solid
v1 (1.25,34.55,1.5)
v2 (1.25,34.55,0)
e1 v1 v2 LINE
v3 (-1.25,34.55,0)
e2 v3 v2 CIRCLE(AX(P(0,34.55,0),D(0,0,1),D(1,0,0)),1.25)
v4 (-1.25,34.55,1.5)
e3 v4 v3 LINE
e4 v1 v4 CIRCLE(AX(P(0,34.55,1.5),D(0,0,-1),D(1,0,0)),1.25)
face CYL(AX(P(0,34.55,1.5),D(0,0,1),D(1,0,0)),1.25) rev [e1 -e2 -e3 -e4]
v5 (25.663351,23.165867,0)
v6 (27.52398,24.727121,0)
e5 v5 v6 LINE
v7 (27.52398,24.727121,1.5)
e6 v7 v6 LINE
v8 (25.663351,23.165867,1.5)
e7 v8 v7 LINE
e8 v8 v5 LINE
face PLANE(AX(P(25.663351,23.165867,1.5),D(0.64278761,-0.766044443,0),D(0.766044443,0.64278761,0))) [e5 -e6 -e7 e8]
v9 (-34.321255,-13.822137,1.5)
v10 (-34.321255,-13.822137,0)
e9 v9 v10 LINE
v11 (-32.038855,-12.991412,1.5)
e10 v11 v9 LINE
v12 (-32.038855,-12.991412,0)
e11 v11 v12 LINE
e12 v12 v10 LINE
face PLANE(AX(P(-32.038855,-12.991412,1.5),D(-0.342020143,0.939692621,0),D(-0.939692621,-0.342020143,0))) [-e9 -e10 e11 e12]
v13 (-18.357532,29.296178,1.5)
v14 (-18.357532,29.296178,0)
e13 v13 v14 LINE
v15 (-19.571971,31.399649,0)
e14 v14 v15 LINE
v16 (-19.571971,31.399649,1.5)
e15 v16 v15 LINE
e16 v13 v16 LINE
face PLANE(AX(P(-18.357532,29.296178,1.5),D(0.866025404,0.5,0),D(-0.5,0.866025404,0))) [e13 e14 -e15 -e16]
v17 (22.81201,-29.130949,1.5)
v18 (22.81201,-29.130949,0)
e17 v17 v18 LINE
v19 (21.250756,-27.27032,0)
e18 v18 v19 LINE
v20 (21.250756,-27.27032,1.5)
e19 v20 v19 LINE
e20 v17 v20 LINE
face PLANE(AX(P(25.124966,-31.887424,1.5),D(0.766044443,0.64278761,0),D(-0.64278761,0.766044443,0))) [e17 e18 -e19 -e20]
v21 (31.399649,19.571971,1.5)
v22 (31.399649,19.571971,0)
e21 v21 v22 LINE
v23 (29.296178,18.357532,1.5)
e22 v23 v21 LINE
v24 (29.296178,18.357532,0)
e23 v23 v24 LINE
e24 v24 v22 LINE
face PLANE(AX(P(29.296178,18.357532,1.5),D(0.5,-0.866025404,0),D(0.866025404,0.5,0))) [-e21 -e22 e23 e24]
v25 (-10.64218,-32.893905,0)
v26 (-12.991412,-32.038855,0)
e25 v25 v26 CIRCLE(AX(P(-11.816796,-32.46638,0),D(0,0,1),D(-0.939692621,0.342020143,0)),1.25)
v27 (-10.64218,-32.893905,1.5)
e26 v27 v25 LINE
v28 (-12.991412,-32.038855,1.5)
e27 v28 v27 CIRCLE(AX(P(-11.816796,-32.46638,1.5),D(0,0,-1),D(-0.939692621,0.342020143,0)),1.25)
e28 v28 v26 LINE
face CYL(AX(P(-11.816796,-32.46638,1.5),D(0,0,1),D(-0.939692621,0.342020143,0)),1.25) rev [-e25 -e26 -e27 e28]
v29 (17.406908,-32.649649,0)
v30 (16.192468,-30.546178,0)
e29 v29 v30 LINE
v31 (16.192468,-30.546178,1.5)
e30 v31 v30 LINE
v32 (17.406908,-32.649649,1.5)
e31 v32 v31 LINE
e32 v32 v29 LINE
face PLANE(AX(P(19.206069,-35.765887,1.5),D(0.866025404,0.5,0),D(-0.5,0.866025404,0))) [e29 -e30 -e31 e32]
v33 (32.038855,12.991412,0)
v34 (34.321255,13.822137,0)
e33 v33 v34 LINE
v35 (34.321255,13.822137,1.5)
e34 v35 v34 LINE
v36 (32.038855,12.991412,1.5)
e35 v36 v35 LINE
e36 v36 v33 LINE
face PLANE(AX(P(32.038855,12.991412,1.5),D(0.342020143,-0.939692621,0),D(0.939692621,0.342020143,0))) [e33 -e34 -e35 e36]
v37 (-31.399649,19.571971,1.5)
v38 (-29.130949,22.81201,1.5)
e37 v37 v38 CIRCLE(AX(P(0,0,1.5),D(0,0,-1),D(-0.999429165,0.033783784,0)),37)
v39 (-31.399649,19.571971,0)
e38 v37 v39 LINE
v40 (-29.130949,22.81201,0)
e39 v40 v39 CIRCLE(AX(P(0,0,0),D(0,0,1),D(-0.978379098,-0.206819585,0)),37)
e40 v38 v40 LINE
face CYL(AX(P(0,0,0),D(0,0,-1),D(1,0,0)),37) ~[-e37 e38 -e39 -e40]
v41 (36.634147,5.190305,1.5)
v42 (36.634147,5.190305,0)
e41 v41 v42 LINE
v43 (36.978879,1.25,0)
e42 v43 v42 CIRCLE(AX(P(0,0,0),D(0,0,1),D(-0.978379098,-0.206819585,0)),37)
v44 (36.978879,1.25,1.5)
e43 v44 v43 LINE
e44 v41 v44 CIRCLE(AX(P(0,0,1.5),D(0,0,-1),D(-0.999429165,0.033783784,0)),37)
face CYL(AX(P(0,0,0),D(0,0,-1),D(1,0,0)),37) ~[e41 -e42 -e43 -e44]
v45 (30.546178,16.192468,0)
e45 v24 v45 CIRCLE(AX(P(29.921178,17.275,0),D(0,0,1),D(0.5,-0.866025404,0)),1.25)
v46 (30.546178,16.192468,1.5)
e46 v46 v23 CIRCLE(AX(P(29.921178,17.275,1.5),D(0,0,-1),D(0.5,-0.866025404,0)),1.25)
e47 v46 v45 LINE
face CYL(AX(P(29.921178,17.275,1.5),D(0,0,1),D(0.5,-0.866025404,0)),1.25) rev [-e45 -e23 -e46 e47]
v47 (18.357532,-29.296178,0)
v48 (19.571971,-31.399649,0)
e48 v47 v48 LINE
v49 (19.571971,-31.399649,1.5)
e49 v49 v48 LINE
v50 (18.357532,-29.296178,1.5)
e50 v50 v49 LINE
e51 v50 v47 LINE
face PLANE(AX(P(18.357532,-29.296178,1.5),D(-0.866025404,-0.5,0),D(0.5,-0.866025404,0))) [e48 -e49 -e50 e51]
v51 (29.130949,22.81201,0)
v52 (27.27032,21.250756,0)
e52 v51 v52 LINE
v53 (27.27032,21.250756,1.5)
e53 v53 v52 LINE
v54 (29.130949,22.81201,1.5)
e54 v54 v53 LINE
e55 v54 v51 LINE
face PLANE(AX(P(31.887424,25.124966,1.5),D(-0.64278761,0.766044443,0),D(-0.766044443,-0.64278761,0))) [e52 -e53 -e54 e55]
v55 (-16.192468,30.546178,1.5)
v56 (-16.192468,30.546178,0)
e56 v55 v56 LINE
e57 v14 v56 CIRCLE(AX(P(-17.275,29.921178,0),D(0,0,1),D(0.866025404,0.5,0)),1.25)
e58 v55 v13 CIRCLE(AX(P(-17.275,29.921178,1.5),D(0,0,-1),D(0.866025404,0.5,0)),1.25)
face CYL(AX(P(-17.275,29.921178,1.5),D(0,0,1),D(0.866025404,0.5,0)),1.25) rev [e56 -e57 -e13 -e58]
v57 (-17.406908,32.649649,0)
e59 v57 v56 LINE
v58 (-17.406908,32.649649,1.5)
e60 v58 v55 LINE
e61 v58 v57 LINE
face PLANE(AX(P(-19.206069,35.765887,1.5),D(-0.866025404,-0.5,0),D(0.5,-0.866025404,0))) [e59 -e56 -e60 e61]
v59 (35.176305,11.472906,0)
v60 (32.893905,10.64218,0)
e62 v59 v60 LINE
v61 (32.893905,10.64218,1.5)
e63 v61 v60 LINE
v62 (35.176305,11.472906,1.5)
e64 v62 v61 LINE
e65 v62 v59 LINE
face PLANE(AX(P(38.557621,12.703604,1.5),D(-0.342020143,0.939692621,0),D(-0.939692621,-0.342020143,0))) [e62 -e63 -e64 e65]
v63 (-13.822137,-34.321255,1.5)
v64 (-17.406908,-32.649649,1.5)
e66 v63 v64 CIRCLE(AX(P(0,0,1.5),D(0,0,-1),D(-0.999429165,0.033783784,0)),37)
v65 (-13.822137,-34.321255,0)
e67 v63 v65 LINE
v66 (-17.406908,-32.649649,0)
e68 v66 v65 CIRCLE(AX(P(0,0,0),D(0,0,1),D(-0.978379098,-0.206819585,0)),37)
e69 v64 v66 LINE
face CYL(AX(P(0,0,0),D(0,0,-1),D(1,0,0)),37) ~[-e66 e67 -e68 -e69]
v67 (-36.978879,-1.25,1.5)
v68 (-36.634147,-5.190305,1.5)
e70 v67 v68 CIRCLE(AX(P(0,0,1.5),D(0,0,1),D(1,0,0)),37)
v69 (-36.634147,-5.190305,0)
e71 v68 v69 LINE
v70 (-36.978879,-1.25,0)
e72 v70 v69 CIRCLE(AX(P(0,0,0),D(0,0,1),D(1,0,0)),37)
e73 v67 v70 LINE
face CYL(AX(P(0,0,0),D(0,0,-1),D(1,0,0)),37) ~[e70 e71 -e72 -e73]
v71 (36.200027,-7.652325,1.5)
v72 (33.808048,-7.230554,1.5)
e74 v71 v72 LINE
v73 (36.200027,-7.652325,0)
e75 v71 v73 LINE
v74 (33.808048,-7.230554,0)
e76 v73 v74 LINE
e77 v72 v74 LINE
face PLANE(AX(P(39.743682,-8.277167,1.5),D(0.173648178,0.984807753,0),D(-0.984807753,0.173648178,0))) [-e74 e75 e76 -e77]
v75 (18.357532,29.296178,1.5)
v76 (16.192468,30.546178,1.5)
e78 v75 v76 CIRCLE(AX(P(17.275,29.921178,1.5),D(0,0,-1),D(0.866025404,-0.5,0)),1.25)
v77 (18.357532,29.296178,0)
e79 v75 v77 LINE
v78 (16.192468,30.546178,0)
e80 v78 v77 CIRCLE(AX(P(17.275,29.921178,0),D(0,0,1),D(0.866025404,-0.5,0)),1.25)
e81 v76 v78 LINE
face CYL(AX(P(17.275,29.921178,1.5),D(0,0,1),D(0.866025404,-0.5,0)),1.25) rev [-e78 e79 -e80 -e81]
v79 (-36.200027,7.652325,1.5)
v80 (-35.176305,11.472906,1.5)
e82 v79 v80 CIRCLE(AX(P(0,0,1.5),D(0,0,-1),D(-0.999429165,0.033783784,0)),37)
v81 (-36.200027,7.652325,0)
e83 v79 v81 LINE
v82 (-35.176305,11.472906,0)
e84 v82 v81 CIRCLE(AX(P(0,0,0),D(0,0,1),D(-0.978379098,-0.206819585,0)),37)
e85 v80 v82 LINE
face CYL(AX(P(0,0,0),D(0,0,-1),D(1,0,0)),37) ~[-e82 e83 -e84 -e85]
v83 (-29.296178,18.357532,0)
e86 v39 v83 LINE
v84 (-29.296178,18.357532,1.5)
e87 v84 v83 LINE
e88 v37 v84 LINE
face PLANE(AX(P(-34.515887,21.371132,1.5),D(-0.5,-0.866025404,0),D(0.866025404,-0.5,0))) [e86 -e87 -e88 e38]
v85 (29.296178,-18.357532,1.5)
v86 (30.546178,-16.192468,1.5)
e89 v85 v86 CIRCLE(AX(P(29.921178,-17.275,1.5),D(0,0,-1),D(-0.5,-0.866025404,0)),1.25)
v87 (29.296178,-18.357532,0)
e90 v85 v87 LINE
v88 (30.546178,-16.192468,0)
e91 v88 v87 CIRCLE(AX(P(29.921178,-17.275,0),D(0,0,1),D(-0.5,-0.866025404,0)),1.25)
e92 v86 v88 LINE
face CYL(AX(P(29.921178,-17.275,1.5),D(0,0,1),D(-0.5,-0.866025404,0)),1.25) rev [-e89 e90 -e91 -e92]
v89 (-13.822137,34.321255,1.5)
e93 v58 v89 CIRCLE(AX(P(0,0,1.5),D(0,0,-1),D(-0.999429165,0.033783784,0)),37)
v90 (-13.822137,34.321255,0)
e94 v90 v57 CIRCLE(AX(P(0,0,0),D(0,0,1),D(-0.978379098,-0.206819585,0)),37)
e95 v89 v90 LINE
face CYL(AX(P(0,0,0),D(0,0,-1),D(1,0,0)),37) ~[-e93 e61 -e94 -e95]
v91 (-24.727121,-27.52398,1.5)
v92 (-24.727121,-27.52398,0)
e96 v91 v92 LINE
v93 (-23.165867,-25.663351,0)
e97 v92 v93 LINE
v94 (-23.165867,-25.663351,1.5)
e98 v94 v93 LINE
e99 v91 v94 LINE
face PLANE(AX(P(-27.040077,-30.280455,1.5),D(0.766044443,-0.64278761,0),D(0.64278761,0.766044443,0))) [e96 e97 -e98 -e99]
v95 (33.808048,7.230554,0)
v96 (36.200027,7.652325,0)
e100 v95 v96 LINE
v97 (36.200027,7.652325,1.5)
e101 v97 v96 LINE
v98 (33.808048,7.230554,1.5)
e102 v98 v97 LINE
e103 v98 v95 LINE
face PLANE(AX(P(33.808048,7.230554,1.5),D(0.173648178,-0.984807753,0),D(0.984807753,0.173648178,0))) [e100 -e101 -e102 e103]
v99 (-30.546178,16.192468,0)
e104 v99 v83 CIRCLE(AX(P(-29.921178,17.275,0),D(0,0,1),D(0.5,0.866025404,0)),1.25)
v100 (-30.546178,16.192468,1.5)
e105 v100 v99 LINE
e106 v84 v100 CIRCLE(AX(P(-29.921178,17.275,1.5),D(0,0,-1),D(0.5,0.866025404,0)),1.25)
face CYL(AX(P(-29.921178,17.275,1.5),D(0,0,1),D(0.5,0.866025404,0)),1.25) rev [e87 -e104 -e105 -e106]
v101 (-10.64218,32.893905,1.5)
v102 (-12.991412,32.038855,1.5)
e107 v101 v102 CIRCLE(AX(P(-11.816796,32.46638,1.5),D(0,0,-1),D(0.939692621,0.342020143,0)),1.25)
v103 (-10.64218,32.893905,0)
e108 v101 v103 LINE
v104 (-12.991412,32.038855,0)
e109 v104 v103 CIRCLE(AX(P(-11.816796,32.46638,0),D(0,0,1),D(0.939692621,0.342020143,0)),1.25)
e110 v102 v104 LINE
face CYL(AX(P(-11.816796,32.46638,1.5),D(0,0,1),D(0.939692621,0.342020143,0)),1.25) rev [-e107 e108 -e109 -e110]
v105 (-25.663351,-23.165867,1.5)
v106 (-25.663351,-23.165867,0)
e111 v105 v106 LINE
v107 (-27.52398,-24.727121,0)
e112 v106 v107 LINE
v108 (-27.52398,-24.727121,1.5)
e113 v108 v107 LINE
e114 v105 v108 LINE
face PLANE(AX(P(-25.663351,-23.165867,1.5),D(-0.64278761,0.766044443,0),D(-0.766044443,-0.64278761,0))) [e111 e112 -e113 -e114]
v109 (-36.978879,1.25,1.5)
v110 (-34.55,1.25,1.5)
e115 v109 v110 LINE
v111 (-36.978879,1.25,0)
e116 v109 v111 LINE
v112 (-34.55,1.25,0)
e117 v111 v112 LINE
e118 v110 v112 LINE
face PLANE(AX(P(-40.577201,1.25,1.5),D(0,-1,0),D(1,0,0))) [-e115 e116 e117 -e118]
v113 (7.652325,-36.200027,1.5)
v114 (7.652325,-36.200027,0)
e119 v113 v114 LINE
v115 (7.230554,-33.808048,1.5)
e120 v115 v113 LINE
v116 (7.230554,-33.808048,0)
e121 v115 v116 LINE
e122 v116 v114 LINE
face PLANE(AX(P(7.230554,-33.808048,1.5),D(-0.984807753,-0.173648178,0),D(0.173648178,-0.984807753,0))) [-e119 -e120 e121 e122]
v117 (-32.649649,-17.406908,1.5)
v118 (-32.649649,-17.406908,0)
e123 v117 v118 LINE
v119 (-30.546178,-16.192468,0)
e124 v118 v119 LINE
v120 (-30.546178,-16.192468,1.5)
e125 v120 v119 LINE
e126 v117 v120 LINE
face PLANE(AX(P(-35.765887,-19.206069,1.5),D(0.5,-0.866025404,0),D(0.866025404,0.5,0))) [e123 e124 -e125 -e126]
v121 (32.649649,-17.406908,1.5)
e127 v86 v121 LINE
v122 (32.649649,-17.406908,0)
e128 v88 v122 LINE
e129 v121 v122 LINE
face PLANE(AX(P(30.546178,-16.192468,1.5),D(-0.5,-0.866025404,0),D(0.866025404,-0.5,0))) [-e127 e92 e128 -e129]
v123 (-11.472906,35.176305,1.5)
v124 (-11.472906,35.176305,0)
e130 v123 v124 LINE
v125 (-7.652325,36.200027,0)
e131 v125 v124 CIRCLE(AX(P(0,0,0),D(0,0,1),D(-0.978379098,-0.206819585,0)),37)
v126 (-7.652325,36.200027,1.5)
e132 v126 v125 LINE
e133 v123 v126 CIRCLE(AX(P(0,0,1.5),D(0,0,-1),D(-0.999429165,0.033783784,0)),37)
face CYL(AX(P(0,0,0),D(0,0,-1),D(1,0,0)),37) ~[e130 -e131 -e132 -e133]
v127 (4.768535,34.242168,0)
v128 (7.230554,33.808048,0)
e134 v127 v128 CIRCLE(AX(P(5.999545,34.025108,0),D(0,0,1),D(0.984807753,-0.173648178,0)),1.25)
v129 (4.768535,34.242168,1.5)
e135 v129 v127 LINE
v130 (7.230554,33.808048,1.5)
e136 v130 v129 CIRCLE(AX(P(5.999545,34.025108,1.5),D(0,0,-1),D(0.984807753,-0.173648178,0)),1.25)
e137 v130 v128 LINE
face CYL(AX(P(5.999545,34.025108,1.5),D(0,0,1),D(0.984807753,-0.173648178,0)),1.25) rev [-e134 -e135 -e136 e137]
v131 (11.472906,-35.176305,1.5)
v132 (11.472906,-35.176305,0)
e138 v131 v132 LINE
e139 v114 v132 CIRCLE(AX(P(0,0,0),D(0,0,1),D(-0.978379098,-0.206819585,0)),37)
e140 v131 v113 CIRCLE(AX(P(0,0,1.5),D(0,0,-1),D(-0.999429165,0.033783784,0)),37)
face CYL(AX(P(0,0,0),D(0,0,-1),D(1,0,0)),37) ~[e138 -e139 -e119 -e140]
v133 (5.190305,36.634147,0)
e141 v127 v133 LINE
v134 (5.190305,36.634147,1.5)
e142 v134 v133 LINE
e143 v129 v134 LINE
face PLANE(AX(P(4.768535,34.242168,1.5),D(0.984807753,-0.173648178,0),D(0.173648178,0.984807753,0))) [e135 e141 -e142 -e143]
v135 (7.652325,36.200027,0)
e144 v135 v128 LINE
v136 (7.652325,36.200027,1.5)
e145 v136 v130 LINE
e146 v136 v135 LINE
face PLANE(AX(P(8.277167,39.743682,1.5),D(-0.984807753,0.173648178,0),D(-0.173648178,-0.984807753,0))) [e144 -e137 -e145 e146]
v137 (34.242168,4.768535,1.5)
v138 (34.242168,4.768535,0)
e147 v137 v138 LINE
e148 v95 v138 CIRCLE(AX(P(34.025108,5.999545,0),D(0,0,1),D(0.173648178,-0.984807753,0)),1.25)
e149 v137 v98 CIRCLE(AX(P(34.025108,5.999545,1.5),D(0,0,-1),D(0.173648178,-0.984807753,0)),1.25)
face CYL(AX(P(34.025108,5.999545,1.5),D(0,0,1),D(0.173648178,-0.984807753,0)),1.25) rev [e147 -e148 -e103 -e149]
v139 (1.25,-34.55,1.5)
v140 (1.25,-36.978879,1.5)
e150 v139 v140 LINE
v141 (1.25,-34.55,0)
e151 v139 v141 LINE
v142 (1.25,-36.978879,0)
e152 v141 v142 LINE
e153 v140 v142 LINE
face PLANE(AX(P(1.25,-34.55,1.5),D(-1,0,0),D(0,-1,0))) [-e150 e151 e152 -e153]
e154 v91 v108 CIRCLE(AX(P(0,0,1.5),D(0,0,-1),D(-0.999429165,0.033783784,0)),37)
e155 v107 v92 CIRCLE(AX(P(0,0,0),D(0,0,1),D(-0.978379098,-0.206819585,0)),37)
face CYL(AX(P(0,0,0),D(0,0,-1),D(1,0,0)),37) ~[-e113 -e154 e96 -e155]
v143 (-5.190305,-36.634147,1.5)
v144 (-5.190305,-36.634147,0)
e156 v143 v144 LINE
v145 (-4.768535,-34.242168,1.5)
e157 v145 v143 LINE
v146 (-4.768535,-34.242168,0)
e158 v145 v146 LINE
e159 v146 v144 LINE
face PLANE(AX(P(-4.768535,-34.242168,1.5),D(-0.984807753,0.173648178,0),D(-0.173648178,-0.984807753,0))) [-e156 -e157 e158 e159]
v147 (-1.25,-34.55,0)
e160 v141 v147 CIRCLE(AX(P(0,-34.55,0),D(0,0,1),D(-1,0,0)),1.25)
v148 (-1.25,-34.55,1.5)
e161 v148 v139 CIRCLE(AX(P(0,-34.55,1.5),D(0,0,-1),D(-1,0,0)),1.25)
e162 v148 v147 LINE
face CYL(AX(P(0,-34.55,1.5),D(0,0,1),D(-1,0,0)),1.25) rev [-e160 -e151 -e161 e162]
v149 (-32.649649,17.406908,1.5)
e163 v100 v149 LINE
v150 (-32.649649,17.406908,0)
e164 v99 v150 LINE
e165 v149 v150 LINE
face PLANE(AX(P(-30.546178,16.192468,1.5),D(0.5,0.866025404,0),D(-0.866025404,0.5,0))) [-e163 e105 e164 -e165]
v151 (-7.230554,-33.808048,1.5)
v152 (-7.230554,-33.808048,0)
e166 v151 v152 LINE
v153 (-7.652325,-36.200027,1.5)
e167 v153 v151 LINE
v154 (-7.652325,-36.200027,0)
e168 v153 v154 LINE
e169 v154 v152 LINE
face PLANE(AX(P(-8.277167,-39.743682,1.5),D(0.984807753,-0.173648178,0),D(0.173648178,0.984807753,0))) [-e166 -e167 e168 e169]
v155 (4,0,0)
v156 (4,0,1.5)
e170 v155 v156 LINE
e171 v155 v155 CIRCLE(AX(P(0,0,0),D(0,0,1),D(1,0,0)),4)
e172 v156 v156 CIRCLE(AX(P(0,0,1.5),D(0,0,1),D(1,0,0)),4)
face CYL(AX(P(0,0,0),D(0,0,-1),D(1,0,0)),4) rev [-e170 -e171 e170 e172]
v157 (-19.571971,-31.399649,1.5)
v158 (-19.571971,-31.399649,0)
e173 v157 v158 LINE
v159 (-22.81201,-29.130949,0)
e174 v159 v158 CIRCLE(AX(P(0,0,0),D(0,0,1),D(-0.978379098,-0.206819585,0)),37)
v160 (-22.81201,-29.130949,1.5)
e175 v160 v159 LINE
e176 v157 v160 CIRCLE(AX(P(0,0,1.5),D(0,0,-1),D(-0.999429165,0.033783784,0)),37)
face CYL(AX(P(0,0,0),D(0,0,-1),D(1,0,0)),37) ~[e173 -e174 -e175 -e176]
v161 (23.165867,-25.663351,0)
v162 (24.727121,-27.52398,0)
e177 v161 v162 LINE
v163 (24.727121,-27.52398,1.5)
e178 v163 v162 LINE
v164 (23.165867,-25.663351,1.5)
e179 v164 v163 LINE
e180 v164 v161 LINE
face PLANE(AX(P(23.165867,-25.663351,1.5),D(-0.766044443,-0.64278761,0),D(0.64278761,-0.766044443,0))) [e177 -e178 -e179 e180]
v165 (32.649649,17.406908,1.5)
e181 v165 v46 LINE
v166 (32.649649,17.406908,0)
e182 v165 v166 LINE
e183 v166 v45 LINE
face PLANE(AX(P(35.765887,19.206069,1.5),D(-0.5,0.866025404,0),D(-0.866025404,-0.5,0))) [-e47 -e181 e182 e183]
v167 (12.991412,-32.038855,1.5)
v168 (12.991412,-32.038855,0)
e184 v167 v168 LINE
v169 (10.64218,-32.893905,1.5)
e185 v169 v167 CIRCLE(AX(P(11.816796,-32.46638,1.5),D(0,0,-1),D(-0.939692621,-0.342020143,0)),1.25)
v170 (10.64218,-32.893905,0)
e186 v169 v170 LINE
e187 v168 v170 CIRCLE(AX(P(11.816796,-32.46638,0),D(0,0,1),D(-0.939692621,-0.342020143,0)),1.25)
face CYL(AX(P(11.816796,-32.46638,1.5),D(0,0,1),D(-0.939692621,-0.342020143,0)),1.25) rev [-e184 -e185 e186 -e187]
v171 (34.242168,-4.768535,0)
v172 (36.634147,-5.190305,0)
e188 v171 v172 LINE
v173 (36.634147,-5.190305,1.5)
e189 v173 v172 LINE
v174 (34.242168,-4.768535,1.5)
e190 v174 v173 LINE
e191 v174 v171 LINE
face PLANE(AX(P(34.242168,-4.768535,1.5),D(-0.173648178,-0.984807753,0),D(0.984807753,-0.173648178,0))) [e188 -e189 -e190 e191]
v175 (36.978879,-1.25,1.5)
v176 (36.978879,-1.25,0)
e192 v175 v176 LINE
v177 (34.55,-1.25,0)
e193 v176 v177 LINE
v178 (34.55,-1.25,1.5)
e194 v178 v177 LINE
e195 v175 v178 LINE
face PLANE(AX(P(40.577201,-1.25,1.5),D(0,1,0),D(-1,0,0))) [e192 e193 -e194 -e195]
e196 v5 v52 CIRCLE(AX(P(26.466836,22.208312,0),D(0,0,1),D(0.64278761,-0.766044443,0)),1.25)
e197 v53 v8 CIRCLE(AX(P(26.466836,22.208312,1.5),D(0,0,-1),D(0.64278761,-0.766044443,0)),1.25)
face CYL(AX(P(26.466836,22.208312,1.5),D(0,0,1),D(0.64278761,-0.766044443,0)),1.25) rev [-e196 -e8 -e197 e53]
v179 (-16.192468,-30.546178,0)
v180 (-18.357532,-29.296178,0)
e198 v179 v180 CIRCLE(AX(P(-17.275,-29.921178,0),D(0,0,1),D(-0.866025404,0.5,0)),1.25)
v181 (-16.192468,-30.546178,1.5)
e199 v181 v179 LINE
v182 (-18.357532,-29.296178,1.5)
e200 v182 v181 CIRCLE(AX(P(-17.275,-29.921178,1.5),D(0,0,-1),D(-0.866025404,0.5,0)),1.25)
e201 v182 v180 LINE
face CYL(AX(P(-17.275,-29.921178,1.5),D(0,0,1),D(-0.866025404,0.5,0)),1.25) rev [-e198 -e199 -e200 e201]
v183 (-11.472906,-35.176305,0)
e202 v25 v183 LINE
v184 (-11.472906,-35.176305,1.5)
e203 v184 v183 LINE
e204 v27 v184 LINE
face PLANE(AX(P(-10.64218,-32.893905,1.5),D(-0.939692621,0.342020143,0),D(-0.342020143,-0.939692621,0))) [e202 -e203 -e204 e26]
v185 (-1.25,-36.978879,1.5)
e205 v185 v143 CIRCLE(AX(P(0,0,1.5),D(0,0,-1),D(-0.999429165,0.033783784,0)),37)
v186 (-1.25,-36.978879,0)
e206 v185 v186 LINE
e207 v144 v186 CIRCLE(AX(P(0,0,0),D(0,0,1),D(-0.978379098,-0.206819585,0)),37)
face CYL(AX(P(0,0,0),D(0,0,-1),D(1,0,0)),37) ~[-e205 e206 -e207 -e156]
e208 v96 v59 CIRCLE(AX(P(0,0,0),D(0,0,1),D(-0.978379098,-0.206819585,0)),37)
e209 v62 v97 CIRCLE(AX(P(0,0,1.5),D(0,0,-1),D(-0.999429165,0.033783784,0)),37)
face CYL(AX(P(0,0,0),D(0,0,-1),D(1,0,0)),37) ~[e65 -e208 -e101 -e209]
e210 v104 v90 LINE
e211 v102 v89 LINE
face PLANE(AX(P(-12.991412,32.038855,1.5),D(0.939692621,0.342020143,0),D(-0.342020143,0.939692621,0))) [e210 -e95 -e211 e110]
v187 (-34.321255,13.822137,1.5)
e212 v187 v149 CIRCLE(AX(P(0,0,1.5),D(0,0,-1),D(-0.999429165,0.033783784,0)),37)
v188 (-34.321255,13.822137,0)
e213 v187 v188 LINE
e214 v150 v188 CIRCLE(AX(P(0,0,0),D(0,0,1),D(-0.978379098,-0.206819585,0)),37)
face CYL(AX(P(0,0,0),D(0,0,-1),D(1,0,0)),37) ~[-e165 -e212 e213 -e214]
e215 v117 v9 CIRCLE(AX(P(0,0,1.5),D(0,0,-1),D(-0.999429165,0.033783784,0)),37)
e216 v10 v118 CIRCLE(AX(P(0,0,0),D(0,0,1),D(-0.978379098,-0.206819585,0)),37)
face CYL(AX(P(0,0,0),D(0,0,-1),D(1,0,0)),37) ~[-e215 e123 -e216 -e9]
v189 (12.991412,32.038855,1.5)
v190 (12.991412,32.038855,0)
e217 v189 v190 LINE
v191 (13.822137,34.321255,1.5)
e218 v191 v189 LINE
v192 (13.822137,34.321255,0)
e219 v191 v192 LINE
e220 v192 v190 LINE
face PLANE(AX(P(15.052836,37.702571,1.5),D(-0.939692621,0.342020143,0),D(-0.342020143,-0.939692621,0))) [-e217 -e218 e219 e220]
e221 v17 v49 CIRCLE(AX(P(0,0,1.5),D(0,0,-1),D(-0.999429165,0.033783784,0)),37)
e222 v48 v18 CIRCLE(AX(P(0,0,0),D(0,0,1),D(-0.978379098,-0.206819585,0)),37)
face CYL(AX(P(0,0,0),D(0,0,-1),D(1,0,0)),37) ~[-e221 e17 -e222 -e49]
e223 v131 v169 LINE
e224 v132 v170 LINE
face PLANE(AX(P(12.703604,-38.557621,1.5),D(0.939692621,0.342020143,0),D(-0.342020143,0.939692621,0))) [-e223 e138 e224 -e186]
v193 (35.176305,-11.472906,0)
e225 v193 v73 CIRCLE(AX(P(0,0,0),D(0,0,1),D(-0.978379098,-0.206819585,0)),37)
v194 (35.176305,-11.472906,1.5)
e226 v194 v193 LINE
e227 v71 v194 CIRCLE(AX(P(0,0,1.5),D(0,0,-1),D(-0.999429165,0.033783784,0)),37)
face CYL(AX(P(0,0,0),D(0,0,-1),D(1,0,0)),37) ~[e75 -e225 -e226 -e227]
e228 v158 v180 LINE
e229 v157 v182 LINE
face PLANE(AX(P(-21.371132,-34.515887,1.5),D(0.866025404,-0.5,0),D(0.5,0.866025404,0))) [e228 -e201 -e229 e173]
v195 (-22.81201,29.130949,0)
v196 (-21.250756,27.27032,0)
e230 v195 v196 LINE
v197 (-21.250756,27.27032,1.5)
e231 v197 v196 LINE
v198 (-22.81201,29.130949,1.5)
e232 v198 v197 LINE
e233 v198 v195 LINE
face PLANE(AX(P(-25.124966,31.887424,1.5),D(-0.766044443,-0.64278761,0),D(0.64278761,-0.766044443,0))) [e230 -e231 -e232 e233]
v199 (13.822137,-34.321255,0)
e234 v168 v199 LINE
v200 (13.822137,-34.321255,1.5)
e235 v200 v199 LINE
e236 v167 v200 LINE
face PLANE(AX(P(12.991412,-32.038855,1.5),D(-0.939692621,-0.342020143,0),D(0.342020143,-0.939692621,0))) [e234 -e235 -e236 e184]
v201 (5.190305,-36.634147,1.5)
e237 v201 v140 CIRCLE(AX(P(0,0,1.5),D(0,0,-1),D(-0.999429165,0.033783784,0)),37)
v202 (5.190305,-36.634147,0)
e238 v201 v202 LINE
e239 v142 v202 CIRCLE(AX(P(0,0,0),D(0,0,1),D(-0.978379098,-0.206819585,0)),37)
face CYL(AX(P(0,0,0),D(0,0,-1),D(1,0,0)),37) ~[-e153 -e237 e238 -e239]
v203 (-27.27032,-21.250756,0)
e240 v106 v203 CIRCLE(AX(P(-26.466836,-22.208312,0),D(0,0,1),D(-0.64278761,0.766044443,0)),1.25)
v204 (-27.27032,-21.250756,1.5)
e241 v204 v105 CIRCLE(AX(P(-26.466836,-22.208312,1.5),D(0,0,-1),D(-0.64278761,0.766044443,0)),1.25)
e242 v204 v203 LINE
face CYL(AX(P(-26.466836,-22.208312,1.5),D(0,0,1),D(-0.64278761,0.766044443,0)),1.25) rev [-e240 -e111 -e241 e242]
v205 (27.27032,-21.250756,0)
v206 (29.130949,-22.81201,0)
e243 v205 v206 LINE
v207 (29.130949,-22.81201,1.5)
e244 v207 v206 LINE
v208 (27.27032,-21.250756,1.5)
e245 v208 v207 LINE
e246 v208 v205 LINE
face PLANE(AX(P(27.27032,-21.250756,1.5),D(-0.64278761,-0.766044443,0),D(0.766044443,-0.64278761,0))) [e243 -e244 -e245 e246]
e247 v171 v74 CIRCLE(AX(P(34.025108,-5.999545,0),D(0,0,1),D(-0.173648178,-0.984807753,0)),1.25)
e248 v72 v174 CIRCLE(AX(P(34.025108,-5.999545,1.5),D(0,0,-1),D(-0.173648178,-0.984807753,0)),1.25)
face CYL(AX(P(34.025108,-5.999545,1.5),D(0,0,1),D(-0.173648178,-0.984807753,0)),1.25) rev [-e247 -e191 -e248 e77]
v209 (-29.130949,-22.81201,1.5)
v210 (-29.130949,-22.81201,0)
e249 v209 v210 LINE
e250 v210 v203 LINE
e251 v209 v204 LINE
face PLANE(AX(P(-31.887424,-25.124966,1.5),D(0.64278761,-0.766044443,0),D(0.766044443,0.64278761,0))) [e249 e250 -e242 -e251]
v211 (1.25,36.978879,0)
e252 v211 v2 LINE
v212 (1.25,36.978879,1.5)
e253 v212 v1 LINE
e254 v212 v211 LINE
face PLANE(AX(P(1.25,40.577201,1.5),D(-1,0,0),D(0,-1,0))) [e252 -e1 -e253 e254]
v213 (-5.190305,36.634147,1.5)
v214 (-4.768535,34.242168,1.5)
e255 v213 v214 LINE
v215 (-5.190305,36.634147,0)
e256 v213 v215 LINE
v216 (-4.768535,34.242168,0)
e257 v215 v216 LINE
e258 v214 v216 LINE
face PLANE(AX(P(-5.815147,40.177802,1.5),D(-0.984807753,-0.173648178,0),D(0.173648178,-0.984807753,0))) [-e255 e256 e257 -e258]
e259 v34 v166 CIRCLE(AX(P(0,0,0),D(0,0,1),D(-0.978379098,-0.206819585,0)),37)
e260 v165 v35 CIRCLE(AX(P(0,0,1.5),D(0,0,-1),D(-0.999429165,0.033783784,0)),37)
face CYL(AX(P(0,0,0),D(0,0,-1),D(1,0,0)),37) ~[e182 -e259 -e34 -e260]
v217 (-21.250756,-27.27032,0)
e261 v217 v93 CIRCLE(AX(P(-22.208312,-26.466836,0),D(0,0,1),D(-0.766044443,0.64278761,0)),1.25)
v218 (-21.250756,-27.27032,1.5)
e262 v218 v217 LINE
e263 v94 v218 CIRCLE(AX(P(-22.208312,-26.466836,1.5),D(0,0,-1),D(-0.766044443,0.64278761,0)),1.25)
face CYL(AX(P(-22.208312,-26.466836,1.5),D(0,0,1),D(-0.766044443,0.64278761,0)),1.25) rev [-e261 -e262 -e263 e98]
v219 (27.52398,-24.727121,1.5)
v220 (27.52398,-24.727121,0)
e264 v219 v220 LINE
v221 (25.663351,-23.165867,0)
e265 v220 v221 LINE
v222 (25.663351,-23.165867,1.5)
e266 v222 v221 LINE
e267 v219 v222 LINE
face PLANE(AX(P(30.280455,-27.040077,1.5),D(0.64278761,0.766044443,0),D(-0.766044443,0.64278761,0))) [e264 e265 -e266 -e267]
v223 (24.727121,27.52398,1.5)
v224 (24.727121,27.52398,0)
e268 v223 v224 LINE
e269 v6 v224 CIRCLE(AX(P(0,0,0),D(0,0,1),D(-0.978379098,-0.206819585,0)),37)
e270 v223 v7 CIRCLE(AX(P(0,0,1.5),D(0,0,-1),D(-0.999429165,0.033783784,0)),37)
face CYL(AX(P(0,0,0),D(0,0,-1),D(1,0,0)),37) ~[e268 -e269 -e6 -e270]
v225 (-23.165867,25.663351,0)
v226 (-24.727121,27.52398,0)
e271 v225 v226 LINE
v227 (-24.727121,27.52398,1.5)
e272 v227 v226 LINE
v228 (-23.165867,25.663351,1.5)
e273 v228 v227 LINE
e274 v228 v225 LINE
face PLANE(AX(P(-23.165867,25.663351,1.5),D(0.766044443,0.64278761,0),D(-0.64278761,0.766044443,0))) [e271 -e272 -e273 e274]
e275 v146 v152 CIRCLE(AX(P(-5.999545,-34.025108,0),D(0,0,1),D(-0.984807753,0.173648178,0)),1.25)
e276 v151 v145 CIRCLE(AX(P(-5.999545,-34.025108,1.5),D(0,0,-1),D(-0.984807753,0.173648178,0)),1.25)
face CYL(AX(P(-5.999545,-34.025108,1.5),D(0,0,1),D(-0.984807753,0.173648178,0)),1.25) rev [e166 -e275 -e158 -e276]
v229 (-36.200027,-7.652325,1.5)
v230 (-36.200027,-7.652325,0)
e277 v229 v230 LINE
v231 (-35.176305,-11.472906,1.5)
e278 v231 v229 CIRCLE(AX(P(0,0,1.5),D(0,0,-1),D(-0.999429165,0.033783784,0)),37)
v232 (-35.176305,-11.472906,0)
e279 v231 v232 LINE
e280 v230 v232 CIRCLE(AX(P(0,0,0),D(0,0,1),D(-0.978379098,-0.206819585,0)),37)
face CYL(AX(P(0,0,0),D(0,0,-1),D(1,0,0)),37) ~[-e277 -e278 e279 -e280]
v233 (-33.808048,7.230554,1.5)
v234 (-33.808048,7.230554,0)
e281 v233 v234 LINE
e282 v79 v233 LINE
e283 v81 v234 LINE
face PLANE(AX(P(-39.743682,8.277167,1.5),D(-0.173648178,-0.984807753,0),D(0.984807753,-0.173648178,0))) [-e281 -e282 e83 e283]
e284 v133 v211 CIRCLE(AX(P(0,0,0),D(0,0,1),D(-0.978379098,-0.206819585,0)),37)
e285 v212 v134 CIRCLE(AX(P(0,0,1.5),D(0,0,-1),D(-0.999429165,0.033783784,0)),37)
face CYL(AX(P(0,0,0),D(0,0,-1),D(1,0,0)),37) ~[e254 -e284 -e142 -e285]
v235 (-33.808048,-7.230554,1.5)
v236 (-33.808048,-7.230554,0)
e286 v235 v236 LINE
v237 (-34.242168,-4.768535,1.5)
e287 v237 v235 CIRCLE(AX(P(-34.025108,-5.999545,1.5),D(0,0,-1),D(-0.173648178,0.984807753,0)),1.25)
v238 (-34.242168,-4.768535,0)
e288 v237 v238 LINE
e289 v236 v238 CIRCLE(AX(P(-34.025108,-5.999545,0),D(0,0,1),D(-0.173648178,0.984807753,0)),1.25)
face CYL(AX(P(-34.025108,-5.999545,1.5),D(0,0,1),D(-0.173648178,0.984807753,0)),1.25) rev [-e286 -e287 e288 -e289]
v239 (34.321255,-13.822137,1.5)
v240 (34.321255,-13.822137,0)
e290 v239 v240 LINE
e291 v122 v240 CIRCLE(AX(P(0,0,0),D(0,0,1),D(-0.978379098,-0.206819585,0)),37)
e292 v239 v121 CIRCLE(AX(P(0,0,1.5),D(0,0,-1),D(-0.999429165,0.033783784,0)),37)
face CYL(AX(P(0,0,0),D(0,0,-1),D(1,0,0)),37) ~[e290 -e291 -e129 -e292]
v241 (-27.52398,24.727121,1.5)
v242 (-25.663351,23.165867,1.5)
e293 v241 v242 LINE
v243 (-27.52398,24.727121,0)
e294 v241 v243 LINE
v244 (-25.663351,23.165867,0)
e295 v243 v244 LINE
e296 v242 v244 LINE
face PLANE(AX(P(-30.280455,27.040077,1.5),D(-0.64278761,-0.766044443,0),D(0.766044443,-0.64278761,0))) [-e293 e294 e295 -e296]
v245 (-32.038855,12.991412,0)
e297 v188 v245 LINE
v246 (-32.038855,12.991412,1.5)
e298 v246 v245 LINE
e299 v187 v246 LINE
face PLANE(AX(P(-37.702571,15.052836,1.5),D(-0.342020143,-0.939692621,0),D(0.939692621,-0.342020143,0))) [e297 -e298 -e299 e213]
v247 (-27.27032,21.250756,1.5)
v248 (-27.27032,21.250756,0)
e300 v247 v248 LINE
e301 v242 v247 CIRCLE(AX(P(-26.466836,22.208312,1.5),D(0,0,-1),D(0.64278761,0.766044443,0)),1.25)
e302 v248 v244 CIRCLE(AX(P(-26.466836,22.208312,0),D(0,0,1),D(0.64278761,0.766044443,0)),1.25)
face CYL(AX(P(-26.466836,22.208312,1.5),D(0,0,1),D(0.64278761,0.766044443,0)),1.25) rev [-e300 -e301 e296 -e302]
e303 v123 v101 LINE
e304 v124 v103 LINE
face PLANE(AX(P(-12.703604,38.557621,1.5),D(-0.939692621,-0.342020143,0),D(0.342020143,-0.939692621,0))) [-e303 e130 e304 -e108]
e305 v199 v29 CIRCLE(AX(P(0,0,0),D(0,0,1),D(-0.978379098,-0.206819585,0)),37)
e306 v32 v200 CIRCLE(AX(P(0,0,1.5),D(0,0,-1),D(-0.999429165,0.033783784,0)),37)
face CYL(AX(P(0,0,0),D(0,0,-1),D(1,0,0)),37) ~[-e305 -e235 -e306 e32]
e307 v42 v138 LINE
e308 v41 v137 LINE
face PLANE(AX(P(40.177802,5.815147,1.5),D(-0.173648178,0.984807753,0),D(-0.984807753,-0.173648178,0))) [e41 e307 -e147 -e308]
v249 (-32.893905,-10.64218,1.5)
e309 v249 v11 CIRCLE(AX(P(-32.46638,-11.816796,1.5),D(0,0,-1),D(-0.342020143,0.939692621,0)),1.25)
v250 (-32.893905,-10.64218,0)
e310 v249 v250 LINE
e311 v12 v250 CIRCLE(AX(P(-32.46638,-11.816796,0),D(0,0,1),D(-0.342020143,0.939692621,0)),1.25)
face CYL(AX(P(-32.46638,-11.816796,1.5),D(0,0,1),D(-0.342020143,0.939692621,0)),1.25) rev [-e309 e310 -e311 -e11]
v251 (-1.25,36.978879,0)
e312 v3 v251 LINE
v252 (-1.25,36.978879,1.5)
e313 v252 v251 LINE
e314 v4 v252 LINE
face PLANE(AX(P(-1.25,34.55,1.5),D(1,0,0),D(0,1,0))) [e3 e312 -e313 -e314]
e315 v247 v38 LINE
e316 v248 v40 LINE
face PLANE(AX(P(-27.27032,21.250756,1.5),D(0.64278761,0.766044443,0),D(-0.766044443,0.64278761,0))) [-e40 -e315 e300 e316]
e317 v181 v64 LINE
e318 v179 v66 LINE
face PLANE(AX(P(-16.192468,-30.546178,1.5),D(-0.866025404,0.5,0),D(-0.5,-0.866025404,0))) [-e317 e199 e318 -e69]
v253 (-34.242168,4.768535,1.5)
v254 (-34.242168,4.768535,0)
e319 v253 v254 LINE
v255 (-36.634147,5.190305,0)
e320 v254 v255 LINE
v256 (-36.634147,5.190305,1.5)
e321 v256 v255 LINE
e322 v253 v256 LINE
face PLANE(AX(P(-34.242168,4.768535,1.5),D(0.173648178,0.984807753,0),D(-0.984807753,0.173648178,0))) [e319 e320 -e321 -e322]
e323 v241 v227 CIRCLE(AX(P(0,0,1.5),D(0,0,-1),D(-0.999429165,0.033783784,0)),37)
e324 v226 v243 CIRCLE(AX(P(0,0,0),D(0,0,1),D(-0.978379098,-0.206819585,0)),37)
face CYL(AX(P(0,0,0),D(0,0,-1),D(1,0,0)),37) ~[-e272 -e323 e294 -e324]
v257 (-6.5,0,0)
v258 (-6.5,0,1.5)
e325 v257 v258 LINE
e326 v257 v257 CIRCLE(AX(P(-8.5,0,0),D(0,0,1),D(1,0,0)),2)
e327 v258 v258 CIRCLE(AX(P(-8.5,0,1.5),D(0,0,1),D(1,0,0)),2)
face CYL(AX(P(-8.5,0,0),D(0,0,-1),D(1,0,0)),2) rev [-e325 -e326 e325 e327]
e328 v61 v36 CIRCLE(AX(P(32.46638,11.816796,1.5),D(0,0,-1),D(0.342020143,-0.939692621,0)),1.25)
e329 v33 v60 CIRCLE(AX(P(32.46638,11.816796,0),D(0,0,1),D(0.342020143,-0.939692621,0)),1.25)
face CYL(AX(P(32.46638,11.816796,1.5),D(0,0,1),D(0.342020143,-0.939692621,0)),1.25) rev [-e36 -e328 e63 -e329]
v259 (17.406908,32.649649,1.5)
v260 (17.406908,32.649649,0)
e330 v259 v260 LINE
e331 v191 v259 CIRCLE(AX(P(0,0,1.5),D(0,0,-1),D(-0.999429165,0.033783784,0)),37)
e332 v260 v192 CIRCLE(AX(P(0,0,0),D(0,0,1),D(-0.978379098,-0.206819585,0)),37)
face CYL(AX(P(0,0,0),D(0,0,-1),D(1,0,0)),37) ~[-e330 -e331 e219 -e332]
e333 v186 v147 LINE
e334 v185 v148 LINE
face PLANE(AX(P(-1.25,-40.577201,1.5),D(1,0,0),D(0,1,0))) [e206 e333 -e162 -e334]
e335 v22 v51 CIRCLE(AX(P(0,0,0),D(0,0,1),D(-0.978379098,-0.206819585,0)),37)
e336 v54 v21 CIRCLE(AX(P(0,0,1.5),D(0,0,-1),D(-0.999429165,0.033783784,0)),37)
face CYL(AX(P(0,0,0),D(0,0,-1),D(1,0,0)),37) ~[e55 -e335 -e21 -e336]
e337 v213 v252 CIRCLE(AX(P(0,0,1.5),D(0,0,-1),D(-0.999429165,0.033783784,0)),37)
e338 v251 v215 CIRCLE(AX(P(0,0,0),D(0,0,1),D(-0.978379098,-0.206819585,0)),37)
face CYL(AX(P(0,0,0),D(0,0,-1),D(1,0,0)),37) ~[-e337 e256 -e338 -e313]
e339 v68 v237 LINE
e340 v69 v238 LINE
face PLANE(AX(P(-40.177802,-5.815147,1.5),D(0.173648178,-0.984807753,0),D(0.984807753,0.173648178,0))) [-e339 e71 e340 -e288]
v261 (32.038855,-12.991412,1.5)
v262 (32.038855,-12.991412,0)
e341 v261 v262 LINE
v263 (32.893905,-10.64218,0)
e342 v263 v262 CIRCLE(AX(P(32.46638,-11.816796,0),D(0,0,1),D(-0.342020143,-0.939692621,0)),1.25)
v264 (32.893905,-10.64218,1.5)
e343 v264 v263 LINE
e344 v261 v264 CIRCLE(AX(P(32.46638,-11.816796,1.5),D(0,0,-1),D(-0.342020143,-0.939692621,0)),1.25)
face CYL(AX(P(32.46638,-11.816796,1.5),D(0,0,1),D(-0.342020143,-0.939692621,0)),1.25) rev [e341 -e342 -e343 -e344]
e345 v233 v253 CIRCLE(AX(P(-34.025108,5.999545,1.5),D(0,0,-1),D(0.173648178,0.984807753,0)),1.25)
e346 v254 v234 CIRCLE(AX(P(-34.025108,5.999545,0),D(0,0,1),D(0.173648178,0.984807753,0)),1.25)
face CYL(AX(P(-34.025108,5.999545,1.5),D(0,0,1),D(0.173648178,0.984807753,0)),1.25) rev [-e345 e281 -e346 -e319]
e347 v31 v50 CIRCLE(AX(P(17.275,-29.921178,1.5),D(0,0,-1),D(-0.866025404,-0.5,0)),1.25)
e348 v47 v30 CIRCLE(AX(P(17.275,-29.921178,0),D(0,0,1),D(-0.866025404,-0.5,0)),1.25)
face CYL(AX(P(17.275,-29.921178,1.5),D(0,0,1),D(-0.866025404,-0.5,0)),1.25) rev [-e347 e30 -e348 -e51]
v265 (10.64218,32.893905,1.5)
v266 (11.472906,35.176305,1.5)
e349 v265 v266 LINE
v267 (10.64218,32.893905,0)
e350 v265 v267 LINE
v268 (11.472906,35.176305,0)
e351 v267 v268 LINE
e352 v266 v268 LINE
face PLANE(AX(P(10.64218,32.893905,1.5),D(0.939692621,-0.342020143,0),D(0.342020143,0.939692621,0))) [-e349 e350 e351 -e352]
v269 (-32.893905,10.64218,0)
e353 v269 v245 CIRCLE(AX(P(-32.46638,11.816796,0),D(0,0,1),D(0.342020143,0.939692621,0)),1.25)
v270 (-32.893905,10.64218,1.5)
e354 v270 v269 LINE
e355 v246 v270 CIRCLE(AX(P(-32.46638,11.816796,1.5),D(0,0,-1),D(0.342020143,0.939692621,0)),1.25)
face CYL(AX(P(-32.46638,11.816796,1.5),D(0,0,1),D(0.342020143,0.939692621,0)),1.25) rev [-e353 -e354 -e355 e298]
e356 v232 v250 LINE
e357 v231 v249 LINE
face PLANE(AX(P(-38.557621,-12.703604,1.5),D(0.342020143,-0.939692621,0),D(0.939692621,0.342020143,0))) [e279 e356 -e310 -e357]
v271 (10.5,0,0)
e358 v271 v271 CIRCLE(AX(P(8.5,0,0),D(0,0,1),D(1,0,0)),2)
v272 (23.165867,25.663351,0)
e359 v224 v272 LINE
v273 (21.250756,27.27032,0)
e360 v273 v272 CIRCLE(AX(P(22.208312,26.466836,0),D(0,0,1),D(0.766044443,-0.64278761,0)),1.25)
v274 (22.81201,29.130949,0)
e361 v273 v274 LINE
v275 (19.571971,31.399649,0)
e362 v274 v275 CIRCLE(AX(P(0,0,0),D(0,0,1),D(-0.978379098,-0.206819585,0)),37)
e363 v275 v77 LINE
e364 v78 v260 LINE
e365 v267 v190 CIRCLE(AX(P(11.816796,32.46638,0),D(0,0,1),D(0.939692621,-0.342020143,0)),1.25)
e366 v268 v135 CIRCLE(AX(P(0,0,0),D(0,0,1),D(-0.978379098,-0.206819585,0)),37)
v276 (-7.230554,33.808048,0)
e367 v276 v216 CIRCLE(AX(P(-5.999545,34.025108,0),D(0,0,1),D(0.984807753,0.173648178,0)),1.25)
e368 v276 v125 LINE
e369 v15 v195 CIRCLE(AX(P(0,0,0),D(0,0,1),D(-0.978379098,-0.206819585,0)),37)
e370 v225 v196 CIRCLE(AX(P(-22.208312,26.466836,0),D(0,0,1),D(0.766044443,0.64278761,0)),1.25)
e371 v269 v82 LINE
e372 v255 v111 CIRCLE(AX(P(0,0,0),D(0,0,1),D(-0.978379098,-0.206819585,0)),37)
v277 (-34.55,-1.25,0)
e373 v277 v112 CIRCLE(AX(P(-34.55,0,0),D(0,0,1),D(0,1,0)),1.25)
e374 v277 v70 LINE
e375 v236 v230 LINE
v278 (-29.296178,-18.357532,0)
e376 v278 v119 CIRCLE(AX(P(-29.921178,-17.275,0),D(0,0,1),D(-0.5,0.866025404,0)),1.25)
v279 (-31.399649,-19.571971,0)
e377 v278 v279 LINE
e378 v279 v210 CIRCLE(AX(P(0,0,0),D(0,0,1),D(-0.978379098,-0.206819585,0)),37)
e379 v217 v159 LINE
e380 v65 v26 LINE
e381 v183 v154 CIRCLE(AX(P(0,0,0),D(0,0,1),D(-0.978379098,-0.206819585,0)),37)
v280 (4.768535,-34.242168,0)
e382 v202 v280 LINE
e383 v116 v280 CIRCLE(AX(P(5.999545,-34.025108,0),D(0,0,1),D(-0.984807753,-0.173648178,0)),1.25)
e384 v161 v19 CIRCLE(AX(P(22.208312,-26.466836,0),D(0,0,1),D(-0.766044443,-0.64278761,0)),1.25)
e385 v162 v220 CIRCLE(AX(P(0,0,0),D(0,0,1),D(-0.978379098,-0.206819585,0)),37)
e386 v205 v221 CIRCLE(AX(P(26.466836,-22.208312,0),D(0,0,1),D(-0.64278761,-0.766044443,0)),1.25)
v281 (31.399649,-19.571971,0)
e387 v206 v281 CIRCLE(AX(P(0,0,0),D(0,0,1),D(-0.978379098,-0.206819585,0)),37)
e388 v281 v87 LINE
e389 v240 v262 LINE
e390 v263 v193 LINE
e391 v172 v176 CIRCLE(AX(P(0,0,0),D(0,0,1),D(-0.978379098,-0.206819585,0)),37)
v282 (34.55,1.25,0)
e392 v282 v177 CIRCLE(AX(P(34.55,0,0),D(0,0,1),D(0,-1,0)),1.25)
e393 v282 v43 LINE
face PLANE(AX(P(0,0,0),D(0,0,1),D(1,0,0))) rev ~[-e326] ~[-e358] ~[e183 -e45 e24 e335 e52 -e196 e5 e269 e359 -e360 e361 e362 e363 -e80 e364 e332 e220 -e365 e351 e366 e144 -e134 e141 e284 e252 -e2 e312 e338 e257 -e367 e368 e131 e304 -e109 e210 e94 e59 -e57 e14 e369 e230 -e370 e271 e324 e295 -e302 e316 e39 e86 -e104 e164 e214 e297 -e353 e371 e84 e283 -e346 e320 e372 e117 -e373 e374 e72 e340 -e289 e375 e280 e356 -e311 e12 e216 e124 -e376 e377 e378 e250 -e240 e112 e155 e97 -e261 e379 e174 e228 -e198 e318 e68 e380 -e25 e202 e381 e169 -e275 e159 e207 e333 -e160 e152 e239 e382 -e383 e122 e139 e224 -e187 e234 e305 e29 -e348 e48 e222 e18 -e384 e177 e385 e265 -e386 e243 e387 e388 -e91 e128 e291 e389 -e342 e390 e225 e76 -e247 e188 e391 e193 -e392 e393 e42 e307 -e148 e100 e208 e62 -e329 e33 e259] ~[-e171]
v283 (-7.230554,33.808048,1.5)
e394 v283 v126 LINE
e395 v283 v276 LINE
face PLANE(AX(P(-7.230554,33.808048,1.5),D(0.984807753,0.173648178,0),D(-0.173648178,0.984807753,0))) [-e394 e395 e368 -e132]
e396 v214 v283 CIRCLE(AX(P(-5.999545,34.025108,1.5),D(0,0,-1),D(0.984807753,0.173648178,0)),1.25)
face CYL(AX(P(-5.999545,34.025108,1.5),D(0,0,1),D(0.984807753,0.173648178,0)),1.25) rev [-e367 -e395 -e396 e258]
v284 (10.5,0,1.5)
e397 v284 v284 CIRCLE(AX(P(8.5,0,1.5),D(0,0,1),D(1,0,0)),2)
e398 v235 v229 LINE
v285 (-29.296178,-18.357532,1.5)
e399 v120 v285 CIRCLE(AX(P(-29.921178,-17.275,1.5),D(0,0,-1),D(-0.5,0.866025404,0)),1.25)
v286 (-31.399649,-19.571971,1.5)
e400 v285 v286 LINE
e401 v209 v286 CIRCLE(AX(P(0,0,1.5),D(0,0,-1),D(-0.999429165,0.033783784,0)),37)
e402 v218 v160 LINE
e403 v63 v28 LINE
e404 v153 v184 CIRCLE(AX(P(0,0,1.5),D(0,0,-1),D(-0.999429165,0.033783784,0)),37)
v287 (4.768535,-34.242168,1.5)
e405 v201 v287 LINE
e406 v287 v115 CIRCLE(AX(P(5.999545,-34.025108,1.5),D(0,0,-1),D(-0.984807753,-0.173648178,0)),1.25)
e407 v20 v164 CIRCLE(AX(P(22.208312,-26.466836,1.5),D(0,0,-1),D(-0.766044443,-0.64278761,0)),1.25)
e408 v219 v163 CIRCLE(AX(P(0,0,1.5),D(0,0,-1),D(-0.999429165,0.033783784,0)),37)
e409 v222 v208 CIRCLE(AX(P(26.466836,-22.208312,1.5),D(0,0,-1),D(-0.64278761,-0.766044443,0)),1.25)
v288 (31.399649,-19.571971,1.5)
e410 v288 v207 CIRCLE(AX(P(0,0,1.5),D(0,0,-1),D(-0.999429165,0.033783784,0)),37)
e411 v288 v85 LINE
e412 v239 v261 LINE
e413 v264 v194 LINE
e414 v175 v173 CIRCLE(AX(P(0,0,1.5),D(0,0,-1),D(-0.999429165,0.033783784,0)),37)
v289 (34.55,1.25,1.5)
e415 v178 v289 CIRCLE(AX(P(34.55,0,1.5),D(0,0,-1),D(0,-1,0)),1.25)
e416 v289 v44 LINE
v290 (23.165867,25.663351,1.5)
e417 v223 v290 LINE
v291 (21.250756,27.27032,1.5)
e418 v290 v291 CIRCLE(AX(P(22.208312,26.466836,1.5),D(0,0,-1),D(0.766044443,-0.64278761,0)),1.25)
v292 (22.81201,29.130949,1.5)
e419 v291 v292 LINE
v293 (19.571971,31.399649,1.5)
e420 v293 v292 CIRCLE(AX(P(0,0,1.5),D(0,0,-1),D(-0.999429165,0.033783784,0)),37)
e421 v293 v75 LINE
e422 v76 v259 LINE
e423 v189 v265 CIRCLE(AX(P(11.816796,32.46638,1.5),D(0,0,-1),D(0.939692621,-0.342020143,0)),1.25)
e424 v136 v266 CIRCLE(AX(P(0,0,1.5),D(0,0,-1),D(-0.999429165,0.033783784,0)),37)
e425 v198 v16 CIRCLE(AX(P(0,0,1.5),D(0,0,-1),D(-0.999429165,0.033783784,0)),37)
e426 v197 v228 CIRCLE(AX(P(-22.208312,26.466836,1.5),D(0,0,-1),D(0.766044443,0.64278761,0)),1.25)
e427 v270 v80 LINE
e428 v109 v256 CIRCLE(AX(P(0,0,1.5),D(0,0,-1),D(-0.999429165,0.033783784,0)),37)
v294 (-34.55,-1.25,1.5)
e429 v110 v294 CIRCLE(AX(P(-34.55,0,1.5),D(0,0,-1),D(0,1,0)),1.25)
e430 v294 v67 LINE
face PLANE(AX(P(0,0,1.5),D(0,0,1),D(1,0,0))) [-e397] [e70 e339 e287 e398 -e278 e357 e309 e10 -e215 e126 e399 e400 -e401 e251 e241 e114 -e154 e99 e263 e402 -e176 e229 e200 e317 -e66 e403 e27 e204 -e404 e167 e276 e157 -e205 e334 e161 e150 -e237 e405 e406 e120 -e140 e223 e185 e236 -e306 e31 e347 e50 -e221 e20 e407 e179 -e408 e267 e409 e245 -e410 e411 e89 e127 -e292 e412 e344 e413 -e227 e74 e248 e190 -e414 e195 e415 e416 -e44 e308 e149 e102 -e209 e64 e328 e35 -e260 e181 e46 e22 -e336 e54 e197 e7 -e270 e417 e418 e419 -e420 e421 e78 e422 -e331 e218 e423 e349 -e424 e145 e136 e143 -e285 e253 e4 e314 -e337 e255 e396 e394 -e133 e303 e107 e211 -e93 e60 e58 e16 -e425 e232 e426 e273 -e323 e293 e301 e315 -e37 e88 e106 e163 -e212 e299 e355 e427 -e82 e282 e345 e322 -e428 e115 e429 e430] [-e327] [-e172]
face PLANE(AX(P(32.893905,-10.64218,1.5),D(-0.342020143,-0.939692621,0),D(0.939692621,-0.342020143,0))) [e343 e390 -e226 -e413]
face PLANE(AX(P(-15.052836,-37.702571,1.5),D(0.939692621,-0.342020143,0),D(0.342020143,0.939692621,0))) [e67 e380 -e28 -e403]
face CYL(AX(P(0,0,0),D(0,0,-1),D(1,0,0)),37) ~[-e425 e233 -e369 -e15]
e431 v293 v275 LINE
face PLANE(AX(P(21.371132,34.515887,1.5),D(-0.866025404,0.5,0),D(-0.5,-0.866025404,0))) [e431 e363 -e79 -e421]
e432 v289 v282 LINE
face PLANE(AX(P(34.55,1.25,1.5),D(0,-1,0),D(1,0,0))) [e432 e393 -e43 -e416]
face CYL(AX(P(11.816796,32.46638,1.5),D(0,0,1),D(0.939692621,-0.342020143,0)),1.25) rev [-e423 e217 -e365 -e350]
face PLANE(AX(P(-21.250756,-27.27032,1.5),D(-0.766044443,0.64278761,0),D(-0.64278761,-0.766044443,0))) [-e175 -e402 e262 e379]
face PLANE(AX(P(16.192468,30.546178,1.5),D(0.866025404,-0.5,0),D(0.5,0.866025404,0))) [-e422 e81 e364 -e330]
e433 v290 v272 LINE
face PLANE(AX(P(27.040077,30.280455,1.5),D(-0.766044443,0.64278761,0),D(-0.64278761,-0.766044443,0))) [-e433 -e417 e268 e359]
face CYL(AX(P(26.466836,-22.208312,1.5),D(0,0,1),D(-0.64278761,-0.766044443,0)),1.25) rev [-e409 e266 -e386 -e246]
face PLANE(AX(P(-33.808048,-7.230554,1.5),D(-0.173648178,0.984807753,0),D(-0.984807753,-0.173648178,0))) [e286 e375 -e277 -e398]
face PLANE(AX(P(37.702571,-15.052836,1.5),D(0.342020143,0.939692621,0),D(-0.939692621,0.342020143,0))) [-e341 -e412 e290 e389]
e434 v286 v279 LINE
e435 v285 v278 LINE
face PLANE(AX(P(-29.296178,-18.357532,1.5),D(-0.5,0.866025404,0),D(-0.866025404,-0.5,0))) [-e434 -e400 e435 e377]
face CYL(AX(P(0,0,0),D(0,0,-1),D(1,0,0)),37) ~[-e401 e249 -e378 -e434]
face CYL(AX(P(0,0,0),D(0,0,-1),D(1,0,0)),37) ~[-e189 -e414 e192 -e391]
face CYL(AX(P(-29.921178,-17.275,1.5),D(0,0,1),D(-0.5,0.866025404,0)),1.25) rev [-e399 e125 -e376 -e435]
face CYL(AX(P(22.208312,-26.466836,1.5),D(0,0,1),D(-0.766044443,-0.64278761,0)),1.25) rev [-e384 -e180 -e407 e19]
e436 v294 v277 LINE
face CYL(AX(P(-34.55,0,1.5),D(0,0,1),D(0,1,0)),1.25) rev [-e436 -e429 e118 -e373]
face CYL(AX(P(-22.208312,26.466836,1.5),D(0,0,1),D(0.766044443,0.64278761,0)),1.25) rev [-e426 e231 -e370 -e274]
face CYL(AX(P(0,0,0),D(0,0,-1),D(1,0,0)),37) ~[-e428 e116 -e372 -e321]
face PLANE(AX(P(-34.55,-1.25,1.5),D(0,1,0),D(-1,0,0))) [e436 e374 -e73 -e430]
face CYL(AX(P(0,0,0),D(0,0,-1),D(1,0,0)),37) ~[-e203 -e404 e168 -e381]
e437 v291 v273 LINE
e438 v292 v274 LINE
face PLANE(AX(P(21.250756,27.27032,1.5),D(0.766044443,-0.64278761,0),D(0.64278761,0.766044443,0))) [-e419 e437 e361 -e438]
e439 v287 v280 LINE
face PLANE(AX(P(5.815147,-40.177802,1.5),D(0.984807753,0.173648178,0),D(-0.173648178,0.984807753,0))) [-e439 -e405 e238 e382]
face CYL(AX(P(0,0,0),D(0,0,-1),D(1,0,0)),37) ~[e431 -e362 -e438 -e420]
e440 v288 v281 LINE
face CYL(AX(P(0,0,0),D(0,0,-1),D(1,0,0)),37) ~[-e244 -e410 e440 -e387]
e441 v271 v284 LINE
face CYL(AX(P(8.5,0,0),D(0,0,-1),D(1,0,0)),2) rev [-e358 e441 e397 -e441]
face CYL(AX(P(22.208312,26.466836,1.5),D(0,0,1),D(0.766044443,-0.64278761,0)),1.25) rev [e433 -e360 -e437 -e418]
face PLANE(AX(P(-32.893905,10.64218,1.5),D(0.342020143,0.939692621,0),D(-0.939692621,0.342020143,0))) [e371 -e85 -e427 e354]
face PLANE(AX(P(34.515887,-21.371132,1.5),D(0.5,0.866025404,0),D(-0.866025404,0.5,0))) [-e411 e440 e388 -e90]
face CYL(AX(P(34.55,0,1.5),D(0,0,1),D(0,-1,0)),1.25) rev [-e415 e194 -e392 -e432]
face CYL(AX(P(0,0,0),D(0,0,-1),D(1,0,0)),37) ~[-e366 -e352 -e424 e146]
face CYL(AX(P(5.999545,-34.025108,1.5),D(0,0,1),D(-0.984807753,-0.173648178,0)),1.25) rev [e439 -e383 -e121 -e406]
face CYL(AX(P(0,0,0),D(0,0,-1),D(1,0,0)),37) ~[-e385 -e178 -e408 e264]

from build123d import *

# Parameters (mm, degrees)
ESQUISSE1_R                  = 37
ESQUISSE1_R_2                = 4
ESQUISSE1_R_3                = 2
BOSS_EXTRU_1_DEPTH           = 1.5
ENL_V_MAT_EXTRU_1_DEPTH      = 53.347397261
R_P_TITION_CIRCULAIRE1_COUNT = 36


with BuildPart() as part:
    # Esquisse1 → Boss.-Extru.1 (new body)
    with BuildSketch(Plane.XY):
        Circle(ESQUISSE1_R)
        Circle(ESQUISSE1_R_2, mode=Mode.SUBTRACT)
        with Locations((8.5, 0)):
            Circle(ESQUISSE1_R_3, mode=Mode.SUBTRACT)
        with Locations((-8.5, 0)):
            Circle(ESQUISSE1_R_3, mode=Mode.SUBTRACT)
    extrude(amount=BOSS_EXTRU_1_DEPTH)

    # Esquisse2 → Enlèv. mat.-Extru.1 (cut, through all)
    with BuildSketch(Plane.XY.offset(1.5)):
        with BuildLine():
            Line((-40.577200577, 1.25), (-34.55, 1.25))
            ThreePointArc((-34.55, 1.25), (-33.3, 0), (-34.55, -1.25))
            Line((-34.55, -1.25), (-40.577200577, -1.25))
            ThreePointArc((-40.577200577, -1.25), (-41.827200577, 0), (-40.577200577, 1.25))
        make_face()
    enl_v_mat_extru_1 = extrude(amount=-ENL_V_MAT_EXTRU_1_DEPTH, mode=Mode.SUBTRACT)

    # Répétition circulaire1: Enlèv. mat.-Extru.1 ×36 about axis
    r_p_tition_circulaire1_axis = Axis((0, 0, 0), (0, 0, 1))
    for i in range(1, R_P_TITION_CIRCULAIRE1_COUNT):
        add(enl_v_mat_extru_1.rotate(r_p_tition_circulaire1_axis, i * 360 / R_P_TITION_CIRCULAIRE1_COUNT), mode=Mode.SUBTRACT)


solid = part.part
